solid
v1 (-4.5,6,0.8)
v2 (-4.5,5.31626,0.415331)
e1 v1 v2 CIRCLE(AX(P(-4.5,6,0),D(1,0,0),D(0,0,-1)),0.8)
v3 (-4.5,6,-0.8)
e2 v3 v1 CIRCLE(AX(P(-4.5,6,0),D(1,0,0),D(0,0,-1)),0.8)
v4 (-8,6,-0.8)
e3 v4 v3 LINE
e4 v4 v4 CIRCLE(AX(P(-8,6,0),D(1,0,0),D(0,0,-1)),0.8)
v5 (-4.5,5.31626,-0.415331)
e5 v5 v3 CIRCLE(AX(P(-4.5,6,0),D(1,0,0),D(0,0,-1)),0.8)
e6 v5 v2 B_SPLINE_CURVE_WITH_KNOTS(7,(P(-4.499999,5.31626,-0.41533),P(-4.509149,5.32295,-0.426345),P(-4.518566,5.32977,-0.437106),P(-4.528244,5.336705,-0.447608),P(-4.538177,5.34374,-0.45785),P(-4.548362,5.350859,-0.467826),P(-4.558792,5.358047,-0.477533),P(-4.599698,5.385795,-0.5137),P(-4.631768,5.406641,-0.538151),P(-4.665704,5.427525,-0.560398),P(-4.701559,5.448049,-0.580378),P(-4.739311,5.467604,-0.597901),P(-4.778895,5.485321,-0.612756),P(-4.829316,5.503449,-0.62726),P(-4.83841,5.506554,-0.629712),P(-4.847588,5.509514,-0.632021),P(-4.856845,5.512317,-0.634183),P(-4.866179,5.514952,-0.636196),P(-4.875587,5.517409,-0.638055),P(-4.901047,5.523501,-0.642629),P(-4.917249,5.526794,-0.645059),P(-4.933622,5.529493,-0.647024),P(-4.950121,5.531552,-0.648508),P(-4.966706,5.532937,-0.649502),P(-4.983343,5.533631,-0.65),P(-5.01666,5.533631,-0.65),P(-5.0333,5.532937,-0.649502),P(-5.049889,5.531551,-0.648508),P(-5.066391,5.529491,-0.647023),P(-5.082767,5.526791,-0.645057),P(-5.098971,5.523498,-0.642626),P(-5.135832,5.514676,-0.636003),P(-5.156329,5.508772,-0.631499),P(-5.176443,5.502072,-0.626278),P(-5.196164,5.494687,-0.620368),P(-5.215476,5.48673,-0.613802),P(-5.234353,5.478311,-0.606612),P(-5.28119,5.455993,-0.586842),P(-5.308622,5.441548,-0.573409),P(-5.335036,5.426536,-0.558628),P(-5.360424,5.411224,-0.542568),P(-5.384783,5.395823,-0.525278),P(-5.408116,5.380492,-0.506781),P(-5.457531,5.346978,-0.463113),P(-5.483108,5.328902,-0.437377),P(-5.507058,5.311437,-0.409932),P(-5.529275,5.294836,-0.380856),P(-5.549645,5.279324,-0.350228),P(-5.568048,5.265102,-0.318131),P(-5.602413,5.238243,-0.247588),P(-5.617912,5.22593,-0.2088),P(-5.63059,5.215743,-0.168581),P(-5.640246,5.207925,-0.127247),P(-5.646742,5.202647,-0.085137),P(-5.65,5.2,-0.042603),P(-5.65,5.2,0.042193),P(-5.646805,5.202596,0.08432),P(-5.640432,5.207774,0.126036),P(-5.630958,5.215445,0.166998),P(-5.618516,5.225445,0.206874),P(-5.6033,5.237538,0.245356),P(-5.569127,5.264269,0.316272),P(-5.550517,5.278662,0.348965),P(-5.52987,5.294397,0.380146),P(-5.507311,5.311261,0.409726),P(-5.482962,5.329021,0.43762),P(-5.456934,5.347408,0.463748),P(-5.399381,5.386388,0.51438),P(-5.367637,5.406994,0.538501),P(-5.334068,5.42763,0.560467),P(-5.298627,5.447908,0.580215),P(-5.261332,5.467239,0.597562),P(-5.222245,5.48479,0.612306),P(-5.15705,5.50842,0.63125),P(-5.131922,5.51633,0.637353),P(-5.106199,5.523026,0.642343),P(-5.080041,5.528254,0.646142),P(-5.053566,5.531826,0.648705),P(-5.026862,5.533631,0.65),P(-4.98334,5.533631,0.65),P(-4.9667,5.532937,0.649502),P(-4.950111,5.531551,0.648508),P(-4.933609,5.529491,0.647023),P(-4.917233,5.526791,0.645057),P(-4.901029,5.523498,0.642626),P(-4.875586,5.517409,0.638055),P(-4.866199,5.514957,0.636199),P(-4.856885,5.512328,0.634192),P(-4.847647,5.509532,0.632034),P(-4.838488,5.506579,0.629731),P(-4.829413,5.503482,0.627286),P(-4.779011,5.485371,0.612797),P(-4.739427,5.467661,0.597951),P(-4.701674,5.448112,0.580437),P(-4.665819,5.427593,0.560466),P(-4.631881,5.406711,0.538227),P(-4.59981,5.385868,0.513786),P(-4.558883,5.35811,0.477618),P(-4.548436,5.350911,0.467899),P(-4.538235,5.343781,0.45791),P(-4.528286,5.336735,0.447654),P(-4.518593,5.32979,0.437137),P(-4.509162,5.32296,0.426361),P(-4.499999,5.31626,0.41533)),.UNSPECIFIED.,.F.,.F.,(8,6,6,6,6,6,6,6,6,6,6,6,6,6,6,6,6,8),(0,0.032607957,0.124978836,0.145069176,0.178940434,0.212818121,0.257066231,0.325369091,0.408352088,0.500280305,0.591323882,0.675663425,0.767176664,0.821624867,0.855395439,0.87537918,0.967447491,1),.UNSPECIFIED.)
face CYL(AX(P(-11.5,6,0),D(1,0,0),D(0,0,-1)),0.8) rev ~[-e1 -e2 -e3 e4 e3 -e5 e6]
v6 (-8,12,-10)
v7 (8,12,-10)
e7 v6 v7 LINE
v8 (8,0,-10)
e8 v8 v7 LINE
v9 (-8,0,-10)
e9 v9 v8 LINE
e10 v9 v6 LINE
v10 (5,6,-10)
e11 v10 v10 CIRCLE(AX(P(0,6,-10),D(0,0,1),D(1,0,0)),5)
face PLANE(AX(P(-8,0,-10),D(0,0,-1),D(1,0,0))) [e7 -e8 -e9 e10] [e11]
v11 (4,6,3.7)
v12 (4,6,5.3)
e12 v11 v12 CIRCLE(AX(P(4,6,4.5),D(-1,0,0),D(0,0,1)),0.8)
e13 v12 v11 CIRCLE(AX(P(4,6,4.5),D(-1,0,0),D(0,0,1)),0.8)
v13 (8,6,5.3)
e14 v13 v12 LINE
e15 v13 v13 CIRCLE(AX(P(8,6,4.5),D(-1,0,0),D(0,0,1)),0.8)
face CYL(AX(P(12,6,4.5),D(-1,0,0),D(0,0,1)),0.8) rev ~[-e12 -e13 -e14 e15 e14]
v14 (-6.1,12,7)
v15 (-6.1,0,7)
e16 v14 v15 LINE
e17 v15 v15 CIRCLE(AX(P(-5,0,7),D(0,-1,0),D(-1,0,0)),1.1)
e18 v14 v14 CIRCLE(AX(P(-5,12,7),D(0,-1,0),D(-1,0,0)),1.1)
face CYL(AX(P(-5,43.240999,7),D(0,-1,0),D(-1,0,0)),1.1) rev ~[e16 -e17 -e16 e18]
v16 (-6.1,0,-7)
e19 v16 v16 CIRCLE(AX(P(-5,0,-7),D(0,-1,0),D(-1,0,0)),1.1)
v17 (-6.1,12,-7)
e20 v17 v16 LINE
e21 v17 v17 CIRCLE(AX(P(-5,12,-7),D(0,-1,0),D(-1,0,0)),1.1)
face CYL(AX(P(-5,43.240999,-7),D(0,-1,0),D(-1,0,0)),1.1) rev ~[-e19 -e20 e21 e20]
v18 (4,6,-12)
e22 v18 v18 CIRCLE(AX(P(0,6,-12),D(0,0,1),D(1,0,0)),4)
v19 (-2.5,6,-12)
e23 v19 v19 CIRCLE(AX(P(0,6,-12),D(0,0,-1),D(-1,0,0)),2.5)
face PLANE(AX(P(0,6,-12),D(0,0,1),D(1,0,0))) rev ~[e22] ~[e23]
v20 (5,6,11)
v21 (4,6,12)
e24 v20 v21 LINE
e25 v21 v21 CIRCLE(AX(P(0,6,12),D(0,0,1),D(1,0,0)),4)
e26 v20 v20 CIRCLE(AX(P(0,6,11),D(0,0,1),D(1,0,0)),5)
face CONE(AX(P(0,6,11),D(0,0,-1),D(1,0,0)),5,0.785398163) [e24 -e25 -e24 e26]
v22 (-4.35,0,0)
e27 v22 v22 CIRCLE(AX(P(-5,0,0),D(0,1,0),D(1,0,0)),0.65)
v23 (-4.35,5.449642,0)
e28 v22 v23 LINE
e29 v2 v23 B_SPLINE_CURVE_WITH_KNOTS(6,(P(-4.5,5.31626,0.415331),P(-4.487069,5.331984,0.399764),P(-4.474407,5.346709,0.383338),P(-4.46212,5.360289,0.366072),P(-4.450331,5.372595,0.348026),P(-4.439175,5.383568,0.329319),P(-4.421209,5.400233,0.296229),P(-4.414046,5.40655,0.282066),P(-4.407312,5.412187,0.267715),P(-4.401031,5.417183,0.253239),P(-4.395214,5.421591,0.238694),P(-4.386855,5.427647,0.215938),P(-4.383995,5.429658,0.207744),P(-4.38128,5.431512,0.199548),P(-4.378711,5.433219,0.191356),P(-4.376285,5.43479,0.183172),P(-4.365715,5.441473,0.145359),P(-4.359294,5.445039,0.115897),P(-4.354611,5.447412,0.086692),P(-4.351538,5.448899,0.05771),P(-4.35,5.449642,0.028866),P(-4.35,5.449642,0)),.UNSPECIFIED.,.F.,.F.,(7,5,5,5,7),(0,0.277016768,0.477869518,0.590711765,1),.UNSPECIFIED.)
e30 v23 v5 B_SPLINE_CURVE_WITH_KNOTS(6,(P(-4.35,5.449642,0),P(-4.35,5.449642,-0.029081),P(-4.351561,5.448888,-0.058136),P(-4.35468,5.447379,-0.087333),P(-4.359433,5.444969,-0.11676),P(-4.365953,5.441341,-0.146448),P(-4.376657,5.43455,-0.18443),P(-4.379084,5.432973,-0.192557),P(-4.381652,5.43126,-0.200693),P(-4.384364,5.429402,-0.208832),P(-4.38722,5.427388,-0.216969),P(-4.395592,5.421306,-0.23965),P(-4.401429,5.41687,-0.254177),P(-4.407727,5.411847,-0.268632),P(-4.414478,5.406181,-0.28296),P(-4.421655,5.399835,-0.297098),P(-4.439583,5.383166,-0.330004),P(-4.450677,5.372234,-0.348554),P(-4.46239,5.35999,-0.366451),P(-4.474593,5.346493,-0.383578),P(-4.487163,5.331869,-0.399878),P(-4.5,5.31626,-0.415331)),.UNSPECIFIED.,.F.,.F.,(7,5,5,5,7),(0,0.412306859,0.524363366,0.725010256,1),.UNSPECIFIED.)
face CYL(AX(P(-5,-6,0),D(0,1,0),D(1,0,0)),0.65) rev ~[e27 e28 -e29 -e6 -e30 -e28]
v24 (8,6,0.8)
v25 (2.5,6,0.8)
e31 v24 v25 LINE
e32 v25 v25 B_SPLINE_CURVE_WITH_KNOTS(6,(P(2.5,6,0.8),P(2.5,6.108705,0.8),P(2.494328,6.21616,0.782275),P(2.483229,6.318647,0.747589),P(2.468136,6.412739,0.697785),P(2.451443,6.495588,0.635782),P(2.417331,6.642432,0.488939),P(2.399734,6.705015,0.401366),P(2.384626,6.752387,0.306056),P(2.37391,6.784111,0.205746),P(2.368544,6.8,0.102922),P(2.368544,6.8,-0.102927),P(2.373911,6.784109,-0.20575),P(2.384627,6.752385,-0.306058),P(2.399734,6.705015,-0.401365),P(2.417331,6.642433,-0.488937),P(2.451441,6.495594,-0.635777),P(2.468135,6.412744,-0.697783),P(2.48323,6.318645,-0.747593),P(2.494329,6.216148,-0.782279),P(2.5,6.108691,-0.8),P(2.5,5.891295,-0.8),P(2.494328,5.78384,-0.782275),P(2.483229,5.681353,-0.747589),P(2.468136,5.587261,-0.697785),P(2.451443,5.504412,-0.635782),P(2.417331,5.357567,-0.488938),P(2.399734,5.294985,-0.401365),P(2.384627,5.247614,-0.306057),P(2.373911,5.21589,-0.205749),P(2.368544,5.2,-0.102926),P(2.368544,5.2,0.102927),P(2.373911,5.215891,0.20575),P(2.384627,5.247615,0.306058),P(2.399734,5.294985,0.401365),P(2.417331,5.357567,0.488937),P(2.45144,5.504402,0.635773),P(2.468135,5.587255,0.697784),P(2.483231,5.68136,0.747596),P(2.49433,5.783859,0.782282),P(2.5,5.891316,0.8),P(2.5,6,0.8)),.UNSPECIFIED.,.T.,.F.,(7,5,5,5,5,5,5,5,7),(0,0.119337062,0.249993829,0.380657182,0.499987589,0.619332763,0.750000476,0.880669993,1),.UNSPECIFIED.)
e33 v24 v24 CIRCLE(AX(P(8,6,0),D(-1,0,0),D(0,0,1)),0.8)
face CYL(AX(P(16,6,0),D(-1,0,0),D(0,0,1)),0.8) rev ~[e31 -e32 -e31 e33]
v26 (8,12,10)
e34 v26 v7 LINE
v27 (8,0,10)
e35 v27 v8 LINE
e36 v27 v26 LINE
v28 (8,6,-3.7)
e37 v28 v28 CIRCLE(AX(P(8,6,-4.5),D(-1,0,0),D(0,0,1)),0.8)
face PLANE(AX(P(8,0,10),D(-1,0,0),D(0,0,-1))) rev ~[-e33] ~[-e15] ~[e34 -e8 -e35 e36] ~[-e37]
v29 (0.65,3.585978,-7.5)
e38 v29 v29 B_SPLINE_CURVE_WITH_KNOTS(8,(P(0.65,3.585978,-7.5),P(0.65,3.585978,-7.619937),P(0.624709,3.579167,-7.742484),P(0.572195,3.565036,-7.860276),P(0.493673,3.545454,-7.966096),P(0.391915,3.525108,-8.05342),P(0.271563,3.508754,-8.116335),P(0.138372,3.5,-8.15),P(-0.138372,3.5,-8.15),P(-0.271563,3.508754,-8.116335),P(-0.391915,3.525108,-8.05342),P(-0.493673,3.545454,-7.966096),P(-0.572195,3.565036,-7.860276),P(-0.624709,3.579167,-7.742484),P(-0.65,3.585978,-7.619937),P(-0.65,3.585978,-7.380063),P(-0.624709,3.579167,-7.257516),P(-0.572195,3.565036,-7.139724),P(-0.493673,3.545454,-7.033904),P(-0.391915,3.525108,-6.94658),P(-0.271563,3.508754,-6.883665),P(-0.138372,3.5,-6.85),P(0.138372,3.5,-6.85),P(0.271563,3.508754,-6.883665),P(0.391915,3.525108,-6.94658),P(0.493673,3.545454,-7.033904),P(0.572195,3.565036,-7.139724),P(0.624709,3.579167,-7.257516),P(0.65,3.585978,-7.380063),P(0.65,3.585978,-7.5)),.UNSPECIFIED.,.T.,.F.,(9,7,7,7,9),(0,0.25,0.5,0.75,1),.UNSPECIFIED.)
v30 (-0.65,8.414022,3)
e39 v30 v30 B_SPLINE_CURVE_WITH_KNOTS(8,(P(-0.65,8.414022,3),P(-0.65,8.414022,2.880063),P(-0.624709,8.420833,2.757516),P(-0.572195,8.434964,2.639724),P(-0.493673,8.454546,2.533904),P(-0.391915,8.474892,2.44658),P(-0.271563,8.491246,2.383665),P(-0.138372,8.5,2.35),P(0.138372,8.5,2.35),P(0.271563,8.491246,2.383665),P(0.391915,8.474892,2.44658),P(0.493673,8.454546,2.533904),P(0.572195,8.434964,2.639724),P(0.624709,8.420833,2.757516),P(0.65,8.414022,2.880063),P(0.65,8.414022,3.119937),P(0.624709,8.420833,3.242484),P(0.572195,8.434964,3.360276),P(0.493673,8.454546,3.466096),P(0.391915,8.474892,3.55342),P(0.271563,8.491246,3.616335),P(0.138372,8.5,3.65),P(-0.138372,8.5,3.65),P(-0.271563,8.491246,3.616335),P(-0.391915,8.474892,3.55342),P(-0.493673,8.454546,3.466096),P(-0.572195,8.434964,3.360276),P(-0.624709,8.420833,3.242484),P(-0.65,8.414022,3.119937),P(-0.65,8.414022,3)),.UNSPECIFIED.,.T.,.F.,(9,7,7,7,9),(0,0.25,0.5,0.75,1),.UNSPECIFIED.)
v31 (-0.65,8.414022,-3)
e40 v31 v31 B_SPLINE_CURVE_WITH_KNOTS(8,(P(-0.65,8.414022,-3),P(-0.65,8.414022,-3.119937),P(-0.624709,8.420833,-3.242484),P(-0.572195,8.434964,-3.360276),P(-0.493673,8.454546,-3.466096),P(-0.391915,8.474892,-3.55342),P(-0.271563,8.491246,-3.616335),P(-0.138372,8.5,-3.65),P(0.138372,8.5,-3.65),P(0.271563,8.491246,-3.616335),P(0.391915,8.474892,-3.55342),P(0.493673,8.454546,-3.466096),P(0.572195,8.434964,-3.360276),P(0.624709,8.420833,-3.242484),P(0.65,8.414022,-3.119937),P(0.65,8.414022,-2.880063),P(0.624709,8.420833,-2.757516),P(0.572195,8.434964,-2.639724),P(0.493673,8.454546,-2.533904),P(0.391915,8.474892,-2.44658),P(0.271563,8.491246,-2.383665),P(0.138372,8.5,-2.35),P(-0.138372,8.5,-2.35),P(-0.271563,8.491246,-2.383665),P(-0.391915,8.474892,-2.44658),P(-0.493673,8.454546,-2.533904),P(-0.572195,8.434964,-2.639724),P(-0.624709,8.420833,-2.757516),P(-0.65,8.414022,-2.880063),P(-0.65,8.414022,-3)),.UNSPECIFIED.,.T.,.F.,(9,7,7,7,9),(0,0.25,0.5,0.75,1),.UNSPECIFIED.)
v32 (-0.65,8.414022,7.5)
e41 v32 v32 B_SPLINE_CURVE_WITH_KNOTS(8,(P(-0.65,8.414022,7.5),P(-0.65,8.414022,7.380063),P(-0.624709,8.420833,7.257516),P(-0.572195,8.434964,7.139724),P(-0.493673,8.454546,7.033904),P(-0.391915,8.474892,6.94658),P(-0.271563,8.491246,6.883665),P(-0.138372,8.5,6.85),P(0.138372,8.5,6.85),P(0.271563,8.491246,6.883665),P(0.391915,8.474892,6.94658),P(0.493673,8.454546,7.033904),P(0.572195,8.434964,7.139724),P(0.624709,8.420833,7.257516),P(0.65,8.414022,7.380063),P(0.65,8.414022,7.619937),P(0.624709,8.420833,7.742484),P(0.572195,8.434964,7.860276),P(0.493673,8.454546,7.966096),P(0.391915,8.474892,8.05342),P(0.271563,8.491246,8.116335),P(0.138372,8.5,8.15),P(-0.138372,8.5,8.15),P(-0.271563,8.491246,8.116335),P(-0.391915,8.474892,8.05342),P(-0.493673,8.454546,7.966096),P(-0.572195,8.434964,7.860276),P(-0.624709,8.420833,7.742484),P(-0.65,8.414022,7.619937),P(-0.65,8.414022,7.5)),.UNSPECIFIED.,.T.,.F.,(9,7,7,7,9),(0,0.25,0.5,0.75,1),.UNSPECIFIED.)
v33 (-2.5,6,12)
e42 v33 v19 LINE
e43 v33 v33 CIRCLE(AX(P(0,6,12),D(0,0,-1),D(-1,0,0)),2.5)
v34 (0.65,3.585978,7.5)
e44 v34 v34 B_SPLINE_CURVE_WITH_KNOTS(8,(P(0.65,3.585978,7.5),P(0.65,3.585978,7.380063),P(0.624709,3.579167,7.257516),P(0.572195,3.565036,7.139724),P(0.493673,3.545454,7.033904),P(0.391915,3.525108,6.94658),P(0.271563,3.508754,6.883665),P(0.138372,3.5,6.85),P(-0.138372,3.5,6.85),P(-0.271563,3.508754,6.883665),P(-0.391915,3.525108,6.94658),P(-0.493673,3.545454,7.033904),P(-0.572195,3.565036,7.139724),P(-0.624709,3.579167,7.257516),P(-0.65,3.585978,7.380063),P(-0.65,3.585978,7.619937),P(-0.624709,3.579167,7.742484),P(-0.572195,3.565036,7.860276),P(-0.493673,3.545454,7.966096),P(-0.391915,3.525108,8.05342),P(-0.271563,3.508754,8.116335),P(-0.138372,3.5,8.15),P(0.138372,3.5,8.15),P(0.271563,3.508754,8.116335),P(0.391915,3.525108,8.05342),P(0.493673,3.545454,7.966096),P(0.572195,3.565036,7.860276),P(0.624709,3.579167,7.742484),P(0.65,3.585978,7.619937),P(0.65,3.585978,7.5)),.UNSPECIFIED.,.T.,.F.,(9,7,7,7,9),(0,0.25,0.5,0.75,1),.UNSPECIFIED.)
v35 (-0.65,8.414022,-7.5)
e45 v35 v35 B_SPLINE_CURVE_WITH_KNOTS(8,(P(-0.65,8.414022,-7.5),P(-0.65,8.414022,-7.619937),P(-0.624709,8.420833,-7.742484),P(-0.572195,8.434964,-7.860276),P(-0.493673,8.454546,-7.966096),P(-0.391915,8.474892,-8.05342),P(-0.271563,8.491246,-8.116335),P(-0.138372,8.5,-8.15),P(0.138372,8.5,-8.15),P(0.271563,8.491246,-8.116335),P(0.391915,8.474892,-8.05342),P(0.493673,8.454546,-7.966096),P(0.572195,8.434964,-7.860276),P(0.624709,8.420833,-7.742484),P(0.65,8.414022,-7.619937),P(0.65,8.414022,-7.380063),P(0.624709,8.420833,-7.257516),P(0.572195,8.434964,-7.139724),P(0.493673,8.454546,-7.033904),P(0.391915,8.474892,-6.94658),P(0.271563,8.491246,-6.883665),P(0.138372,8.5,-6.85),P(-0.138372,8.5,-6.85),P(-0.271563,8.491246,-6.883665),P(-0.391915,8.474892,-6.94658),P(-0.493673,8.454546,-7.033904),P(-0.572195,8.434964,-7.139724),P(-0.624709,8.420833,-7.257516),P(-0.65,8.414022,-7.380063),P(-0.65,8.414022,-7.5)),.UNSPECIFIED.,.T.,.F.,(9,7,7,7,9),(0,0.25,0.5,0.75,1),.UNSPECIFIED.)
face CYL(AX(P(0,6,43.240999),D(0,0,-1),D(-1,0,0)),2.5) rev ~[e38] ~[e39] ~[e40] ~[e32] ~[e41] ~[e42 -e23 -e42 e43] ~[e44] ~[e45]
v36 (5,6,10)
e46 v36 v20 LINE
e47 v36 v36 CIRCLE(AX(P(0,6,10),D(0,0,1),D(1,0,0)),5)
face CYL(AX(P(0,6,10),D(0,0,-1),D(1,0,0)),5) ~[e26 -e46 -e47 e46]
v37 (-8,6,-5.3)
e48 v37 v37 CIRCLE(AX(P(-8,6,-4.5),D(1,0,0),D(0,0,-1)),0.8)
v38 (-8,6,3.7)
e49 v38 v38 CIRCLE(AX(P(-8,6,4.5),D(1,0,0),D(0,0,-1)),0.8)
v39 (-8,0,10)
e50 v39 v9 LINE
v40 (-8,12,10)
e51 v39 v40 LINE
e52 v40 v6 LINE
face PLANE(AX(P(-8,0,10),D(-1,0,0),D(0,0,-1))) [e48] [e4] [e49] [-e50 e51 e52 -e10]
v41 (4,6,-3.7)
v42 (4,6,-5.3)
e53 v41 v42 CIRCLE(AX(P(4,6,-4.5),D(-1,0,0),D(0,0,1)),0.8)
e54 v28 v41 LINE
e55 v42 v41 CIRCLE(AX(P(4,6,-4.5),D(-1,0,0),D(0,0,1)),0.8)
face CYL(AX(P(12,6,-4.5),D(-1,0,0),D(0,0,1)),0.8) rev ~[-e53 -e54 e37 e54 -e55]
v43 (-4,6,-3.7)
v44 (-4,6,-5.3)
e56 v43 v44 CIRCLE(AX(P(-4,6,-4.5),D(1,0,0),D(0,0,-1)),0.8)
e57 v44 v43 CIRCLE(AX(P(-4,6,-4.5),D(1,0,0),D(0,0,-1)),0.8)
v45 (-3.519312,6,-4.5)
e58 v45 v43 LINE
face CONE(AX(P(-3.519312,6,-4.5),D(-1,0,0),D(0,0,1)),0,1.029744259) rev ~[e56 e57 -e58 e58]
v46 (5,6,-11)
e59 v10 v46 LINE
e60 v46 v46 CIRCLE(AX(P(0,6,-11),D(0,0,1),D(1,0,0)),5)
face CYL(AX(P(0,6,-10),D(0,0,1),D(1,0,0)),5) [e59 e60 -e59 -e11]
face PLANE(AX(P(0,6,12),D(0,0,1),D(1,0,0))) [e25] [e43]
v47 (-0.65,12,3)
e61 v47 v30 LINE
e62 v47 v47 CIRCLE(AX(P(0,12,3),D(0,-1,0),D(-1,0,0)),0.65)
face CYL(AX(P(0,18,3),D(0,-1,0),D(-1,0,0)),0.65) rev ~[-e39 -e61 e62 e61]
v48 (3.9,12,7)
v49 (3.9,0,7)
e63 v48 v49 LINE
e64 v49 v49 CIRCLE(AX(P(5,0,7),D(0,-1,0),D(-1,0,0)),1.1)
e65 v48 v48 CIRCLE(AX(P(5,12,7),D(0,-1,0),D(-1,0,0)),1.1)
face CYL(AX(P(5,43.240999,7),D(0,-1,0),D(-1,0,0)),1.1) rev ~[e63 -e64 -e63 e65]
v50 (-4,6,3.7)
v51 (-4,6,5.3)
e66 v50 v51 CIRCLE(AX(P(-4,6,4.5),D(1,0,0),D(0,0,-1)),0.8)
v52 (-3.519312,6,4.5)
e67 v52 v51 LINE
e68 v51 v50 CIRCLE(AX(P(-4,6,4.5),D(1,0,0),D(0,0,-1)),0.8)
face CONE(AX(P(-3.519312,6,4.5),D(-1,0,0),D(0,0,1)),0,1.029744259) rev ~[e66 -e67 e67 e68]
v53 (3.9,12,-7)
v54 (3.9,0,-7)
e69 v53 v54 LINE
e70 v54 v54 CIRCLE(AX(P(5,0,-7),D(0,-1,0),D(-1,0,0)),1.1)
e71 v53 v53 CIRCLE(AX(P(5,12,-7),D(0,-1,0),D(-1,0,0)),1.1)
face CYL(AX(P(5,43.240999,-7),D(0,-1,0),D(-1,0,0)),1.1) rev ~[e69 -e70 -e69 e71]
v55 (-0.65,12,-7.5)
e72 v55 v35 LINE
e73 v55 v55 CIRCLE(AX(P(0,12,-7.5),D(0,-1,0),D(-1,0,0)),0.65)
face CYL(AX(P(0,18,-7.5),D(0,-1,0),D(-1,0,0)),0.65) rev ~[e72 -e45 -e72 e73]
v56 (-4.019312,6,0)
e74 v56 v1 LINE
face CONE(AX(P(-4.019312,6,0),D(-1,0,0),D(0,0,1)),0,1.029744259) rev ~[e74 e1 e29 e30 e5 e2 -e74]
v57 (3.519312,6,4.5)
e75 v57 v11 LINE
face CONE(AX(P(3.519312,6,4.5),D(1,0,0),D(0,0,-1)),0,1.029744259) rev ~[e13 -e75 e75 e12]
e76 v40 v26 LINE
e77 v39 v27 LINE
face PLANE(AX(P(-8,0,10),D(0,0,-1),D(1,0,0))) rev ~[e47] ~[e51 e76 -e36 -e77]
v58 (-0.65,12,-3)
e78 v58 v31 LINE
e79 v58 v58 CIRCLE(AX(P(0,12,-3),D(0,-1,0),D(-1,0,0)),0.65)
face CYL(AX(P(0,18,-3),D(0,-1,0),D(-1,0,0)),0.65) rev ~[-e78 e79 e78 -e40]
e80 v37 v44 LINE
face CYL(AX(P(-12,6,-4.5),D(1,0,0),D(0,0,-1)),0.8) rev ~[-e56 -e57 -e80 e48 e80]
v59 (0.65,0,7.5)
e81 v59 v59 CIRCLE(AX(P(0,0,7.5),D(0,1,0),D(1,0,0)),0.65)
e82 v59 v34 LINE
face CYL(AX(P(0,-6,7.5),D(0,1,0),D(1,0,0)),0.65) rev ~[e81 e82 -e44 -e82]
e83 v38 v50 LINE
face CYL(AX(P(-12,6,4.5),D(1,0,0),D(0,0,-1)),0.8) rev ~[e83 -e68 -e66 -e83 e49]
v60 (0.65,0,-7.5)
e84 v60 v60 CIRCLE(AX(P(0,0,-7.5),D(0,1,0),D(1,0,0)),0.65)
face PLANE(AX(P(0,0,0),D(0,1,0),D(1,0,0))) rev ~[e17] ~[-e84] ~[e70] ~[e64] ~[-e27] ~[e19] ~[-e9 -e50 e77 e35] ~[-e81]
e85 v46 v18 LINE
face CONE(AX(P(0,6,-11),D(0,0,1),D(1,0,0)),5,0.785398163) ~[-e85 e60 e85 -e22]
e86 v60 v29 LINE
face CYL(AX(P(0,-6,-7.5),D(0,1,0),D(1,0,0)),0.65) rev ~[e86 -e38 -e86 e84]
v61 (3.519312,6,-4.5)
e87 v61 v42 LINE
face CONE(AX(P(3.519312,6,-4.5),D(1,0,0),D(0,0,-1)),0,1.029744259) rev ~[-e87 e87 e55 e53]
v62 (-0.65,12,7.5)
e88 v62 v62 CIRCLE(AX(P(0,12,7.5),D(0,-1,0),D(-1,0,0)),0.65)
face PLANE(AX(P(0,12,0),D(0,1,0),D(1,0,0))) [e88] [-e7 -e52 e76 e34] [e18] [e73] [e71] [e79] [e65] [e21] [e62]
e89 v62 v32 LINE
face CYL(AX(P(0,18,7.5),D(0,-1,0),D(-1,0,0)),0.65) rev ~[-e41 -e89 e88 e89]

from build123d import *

# Parameters (mm, degrees)
BASE_SKETCH_W                   = 16
BASE_SKETCH_H                   = 20
BASE_EXTRUDE_DEPTH              = 12
TOP_START                       = 10
PROTRUSION_SKETCH_R             = 5
TOP_PROTRUSION_EXTRUDE_DEPTH    = 2
BOTTOM_START                    = -10
PROTRUSION_SKETCH_2_R           = 5
BOTTOM_PROTRUSION_EXTRUDE_DEPTH = 2
PROTRUSION_CHAMFER_SIZE         = 1
F_5_0MM_DOWEL_HOLE1_D           = 5
F_1_6MM_DOWEL_HOLE1_D           = 1.6
F_1_6MM_DOWEL_HOLE1_DEPTH       = 8
F_1_6MM_DOWEL_HOLE1_TIP         = 0.480688495
F_1_6_1_6_DIAMETER_HOLE4_D      = 1.6
F_1_6_1_6_DIAMETER_HOLE4_DEPTH  = 3.5
F_1_6_1_6_DIAMETER_HOLE4_TIP    = 0.480688495
M2X0_4_TAPPED_HOLE1_D           = 1.6
M2X0_4_TAPPED_HOLE1_DEPTH       = 4
M2X0_4_TAPPED_HOLE1_TIP         = 0.480688495
M2X0_4_TAPPED_HOLE2_D           = 1.6
M2X0_4_TAPPED_HOLE2_DEPTH       = 4
M2X0_4_TAPPED_HOLE2_TIP         = 0.480688495
F_2_2_2_2_DIAMETER_HOLE1_D      = 2.2
F_1_3_1_3_DIAMETER_HOLE1_D      = 1.3
F_1_3_1_3_DIAMETER_HOLE1_DEPTH  = 6
F_1_3_1_3_DIAMETER_HOLE1_TIP    = 0.390559402
F_1_3_1_3_DIAMETER_HOLE2_D      = 1.3
F_1_3_1_3_DIAMETER_HOLE2_DEPTH  = 6
F_1_3_1_3_DIAMETER_HOLE2_TIP    = 0.390559402
F_1_3_1_3_DIAMETER_HOLE3_D      = 1.3
F_1_3_1_3_DIAMETER_HOLE3_DEPTH  = 6
F_1_3_1_3_DIAMETER_HOLE3_TIP    = 0.390559402


with BuildPart() as part:
    # Base Sketch → Base Extrude (new body)
    with BuildSketch(Plane(origin=(0, 0, 0), x_dir=(1, 0, 0), z_dir=(0, 1, 0))):
        Rectangle(BASE_SKETCH_W, BASE_SKETCH_H)
    extrude(amount=BASE_EXTRUDE_DEPTH)

    # Protrusion Sketch → Top Protrusion Extrude (add)
    with BuildSketch(Plane.XY.offset(TOP_START)):
        with Locations((0, 6)):
            Circle(PROTRUSION_SKETCH_R)
    extrude(amount=TOP_PROTRUSION_EXTRUDE_DEPTH)

    # Protrusion Sketch<2> → Bottom Protrusion Extrude (add)
    with BuildSketch(Plane.XY.offset(BOTTOM_START)):
        with Locations((0, 6)):
            Circle(PROTRUSION_SKETCH_2_R)
    extrude(amount=-BOTTOM_PROTRUSION_EXTRUDE_DEPTH)

    # Protrusion Chamfer
    protrusion_chamfer_edges = [part.edges().sort_by_distance(p)[0] for p in [
        (-5, 6, 12),
        (-5, 6, -12),
    ]]
    chamfer(protrusion_chamfer_edges, length=PROTRUSION_CHAMFER_SIZE)

    # Ø5.0mm Dowel Hole1 (through all)
    with Locations(Plane.XY.offset(12)):
        with Locations((0, 6)):
            Hole(F_5_0MM_DOWEL_HOLE1_D / 2)

    # Ø1.6mm Dowel Hole1
    with Locations(Plane(origin=(8, 0, 0), x_dir=(0, 0, -1), z_dir=(1, 0, 0))):
        with Locations((0, 6)):
            Hole(F_1_6MM_DOWEL_HOLE1_D / 2, depth=F_1_6MM_DOWEL_HOLE1_DEPTH)
            with Locations((0, 0, -(F_1_6MM_DOWEL_HOLE1_DEPTH + F_1_6MM_DOWEL_HOLE1_TIP / 2))):  # 118° drill point
                Cone(0, F_1_6MM_DOWEL_HOLE1_D / 2, F_1_6MM_DOWEL_HOLE1_TIP, mode=Mode.SUBTRACT)

    # Ø1.6 (1.6) Diameter Hole4
    with Locations(Plane.ZY.offset(8)):
        with Locations((0, 6)):
            Hole(F_1_6_1_6_DIAMETER_HOLE4_D / 2, depth=F_1_6_1_6_DIAMETER_HOLE4_DEPTH)
            with Locations((0, 0, -(F_1_6_1_6_DIAMETER_HOLE4_DEPTH + F_1_6_1_6_DIAMETER_HOLE4_TIP / 2))):  # 118° drill point
                Cone(0, F_1_6_1_6_DIAMETER_HOLE4_D / 2, F_1_6_1_6_DIAMETER_HOLE4_TIP, mode=Mode.SUBTRACT)

    # M2x0.4 Tapped Hole1
    with Locations(Plane(origin=(8, 0, 0), x_dir=(0, 0, -1), z_dir=(1, 0, 0))):
        with Locations((-4.5, 6), (4.5, 6)):
            Hole(M2X0_4_TAPPED_HOLE1_D / 2, depth=M2X0_4_TAPPED_HOLE1_DEPTH)
            with Locations((0, 0, -(M2X0_4_TAPPED_HOLE1_DEPTH + M2X0_4_TAPPED_HOLE1_TIP / 2))):  # 118° drill point
                Cone(0, M2X0_4_TAPPED_HOLE1_D / 2, M2X0_4_TAPPED_HOLE1_TIP, mode=Mode.SUBTRACT)

    # M2x0.4 Tapped Hole2
    with Locations(Plane.ZY.offset(8)):
        with Locations((-4.5, 6), (4.5, 6)):
            Hole(M2X0_4_TAPPED_HOLE2_D / 2, depth=M2X0_4_TAPPED_HOLE2_DEPTH)
            with Locations((0, 0, -(M2X0_4_TAPPED_HOLE2_DEPTH + M2X0_4_TAPPED_HOLE2_TIP / 2))):  # 118° drill point
                Cone(0, M2X0_4_TAPPED_HOLE2_D / 2, M2X0_4_TAPPED_HOLE2_TIP, mode=Mode.SUBTRACT)

    # Ø2.2 (2.2) Diameter Hole1 (through all)
    with Locations(Plane(origin=(0, 12, 0), x_dir=(1, 0, 0), z_dir=(0, 1, 0))):
        with Locations((-5, 7), (5, 7), (-5, -7), (5, -7)):
            Hole(F_2_2_2_2_DIAMETER_HOLE1_D / 2)

    # Ø1.3 (1.3) Diameter Hole1
    with Locations(Plane(origin=(0, 0, 0), x_dir=(-1, 0, 0), z_dir=(0, -1, 0))):
        with Locations((0, 7.5), (0, -7.5)):
            Hole(F_1_3_1_3_DIAMETER_HOLE1_D / 2, depth=F_1_3_1_3_DIAMETER_HOLE1_DEPTH)
            with Locations((0, 0, -(F_1_3_1_3_DIAMETER_HOLE1_DEPTH + F_1_3_1_3_DIAMETER_HOLE1_TIP / 2))):  # 118° drill point
                Cone(0, F_1_3_1_3_DIAMETER_HOLE1_D / 2, F_1_3_1_3_DIAMETER_HOLE1_TIP, mode=Mode.SUBTRACT)

    # Ø1.3 (1.3) Diameter Hole2
    with Locations(Plane(origin=(0, 0, 0), x_dir=(-1, 0, 0), z_dir=(0, -1, 0))):
        with Locations((5, 0)):
            Hole(F_1_3_1_3_DIAMETER_HOLE2_D / 2, depth=F_1_3_1_3_DIAMETER_HOLE2_DEPTH)
            with Locations((0, 0, -(F_1_3_1_3_DIAMETER_HOLE2_DEPTH + F_1_3_1_3_DIAMETER_HOLE2_TIP / 2))):  # 118° drill point
                Cone(0, F_1_3_1_3_DIAMETER_HOLE2_D / 2, F_1_3_1_3_DIAMETER_HOLE2_TIP, mode=Mode.SUBTRACT)

    # Ø1.3 (1.3) Diameter Hole3
    with Locations(Plane(origin=(0, 12, 0), x_dir=(1, 0, 0), z_dir=(0, 1, 0))):
        with Locations((0, -7.5), (0, -3), (0, 3), (0, 7.5)):
            Hole(F_1_3_1_3_DIAMETER_HOLE3_D / 2, depth=F_1_3_1_3_DIAMETER_HOLE3_DEPTH)
            with Locations((0, 0, -(F_1_3_1_3_DIAMETER_HOLE3_DEPTH + F_1_3_1_3_DIAMETER_HOLE3_TIP / 2))):  # 118° drill point
                Cone(0, F_1_3_1_3_DIAMETER_HOLE3_D / 2, F_1_3_1_3_DIAMETER_HOLE3_TIP, mode=Mode.SUBTRACT)


solid = part.part
